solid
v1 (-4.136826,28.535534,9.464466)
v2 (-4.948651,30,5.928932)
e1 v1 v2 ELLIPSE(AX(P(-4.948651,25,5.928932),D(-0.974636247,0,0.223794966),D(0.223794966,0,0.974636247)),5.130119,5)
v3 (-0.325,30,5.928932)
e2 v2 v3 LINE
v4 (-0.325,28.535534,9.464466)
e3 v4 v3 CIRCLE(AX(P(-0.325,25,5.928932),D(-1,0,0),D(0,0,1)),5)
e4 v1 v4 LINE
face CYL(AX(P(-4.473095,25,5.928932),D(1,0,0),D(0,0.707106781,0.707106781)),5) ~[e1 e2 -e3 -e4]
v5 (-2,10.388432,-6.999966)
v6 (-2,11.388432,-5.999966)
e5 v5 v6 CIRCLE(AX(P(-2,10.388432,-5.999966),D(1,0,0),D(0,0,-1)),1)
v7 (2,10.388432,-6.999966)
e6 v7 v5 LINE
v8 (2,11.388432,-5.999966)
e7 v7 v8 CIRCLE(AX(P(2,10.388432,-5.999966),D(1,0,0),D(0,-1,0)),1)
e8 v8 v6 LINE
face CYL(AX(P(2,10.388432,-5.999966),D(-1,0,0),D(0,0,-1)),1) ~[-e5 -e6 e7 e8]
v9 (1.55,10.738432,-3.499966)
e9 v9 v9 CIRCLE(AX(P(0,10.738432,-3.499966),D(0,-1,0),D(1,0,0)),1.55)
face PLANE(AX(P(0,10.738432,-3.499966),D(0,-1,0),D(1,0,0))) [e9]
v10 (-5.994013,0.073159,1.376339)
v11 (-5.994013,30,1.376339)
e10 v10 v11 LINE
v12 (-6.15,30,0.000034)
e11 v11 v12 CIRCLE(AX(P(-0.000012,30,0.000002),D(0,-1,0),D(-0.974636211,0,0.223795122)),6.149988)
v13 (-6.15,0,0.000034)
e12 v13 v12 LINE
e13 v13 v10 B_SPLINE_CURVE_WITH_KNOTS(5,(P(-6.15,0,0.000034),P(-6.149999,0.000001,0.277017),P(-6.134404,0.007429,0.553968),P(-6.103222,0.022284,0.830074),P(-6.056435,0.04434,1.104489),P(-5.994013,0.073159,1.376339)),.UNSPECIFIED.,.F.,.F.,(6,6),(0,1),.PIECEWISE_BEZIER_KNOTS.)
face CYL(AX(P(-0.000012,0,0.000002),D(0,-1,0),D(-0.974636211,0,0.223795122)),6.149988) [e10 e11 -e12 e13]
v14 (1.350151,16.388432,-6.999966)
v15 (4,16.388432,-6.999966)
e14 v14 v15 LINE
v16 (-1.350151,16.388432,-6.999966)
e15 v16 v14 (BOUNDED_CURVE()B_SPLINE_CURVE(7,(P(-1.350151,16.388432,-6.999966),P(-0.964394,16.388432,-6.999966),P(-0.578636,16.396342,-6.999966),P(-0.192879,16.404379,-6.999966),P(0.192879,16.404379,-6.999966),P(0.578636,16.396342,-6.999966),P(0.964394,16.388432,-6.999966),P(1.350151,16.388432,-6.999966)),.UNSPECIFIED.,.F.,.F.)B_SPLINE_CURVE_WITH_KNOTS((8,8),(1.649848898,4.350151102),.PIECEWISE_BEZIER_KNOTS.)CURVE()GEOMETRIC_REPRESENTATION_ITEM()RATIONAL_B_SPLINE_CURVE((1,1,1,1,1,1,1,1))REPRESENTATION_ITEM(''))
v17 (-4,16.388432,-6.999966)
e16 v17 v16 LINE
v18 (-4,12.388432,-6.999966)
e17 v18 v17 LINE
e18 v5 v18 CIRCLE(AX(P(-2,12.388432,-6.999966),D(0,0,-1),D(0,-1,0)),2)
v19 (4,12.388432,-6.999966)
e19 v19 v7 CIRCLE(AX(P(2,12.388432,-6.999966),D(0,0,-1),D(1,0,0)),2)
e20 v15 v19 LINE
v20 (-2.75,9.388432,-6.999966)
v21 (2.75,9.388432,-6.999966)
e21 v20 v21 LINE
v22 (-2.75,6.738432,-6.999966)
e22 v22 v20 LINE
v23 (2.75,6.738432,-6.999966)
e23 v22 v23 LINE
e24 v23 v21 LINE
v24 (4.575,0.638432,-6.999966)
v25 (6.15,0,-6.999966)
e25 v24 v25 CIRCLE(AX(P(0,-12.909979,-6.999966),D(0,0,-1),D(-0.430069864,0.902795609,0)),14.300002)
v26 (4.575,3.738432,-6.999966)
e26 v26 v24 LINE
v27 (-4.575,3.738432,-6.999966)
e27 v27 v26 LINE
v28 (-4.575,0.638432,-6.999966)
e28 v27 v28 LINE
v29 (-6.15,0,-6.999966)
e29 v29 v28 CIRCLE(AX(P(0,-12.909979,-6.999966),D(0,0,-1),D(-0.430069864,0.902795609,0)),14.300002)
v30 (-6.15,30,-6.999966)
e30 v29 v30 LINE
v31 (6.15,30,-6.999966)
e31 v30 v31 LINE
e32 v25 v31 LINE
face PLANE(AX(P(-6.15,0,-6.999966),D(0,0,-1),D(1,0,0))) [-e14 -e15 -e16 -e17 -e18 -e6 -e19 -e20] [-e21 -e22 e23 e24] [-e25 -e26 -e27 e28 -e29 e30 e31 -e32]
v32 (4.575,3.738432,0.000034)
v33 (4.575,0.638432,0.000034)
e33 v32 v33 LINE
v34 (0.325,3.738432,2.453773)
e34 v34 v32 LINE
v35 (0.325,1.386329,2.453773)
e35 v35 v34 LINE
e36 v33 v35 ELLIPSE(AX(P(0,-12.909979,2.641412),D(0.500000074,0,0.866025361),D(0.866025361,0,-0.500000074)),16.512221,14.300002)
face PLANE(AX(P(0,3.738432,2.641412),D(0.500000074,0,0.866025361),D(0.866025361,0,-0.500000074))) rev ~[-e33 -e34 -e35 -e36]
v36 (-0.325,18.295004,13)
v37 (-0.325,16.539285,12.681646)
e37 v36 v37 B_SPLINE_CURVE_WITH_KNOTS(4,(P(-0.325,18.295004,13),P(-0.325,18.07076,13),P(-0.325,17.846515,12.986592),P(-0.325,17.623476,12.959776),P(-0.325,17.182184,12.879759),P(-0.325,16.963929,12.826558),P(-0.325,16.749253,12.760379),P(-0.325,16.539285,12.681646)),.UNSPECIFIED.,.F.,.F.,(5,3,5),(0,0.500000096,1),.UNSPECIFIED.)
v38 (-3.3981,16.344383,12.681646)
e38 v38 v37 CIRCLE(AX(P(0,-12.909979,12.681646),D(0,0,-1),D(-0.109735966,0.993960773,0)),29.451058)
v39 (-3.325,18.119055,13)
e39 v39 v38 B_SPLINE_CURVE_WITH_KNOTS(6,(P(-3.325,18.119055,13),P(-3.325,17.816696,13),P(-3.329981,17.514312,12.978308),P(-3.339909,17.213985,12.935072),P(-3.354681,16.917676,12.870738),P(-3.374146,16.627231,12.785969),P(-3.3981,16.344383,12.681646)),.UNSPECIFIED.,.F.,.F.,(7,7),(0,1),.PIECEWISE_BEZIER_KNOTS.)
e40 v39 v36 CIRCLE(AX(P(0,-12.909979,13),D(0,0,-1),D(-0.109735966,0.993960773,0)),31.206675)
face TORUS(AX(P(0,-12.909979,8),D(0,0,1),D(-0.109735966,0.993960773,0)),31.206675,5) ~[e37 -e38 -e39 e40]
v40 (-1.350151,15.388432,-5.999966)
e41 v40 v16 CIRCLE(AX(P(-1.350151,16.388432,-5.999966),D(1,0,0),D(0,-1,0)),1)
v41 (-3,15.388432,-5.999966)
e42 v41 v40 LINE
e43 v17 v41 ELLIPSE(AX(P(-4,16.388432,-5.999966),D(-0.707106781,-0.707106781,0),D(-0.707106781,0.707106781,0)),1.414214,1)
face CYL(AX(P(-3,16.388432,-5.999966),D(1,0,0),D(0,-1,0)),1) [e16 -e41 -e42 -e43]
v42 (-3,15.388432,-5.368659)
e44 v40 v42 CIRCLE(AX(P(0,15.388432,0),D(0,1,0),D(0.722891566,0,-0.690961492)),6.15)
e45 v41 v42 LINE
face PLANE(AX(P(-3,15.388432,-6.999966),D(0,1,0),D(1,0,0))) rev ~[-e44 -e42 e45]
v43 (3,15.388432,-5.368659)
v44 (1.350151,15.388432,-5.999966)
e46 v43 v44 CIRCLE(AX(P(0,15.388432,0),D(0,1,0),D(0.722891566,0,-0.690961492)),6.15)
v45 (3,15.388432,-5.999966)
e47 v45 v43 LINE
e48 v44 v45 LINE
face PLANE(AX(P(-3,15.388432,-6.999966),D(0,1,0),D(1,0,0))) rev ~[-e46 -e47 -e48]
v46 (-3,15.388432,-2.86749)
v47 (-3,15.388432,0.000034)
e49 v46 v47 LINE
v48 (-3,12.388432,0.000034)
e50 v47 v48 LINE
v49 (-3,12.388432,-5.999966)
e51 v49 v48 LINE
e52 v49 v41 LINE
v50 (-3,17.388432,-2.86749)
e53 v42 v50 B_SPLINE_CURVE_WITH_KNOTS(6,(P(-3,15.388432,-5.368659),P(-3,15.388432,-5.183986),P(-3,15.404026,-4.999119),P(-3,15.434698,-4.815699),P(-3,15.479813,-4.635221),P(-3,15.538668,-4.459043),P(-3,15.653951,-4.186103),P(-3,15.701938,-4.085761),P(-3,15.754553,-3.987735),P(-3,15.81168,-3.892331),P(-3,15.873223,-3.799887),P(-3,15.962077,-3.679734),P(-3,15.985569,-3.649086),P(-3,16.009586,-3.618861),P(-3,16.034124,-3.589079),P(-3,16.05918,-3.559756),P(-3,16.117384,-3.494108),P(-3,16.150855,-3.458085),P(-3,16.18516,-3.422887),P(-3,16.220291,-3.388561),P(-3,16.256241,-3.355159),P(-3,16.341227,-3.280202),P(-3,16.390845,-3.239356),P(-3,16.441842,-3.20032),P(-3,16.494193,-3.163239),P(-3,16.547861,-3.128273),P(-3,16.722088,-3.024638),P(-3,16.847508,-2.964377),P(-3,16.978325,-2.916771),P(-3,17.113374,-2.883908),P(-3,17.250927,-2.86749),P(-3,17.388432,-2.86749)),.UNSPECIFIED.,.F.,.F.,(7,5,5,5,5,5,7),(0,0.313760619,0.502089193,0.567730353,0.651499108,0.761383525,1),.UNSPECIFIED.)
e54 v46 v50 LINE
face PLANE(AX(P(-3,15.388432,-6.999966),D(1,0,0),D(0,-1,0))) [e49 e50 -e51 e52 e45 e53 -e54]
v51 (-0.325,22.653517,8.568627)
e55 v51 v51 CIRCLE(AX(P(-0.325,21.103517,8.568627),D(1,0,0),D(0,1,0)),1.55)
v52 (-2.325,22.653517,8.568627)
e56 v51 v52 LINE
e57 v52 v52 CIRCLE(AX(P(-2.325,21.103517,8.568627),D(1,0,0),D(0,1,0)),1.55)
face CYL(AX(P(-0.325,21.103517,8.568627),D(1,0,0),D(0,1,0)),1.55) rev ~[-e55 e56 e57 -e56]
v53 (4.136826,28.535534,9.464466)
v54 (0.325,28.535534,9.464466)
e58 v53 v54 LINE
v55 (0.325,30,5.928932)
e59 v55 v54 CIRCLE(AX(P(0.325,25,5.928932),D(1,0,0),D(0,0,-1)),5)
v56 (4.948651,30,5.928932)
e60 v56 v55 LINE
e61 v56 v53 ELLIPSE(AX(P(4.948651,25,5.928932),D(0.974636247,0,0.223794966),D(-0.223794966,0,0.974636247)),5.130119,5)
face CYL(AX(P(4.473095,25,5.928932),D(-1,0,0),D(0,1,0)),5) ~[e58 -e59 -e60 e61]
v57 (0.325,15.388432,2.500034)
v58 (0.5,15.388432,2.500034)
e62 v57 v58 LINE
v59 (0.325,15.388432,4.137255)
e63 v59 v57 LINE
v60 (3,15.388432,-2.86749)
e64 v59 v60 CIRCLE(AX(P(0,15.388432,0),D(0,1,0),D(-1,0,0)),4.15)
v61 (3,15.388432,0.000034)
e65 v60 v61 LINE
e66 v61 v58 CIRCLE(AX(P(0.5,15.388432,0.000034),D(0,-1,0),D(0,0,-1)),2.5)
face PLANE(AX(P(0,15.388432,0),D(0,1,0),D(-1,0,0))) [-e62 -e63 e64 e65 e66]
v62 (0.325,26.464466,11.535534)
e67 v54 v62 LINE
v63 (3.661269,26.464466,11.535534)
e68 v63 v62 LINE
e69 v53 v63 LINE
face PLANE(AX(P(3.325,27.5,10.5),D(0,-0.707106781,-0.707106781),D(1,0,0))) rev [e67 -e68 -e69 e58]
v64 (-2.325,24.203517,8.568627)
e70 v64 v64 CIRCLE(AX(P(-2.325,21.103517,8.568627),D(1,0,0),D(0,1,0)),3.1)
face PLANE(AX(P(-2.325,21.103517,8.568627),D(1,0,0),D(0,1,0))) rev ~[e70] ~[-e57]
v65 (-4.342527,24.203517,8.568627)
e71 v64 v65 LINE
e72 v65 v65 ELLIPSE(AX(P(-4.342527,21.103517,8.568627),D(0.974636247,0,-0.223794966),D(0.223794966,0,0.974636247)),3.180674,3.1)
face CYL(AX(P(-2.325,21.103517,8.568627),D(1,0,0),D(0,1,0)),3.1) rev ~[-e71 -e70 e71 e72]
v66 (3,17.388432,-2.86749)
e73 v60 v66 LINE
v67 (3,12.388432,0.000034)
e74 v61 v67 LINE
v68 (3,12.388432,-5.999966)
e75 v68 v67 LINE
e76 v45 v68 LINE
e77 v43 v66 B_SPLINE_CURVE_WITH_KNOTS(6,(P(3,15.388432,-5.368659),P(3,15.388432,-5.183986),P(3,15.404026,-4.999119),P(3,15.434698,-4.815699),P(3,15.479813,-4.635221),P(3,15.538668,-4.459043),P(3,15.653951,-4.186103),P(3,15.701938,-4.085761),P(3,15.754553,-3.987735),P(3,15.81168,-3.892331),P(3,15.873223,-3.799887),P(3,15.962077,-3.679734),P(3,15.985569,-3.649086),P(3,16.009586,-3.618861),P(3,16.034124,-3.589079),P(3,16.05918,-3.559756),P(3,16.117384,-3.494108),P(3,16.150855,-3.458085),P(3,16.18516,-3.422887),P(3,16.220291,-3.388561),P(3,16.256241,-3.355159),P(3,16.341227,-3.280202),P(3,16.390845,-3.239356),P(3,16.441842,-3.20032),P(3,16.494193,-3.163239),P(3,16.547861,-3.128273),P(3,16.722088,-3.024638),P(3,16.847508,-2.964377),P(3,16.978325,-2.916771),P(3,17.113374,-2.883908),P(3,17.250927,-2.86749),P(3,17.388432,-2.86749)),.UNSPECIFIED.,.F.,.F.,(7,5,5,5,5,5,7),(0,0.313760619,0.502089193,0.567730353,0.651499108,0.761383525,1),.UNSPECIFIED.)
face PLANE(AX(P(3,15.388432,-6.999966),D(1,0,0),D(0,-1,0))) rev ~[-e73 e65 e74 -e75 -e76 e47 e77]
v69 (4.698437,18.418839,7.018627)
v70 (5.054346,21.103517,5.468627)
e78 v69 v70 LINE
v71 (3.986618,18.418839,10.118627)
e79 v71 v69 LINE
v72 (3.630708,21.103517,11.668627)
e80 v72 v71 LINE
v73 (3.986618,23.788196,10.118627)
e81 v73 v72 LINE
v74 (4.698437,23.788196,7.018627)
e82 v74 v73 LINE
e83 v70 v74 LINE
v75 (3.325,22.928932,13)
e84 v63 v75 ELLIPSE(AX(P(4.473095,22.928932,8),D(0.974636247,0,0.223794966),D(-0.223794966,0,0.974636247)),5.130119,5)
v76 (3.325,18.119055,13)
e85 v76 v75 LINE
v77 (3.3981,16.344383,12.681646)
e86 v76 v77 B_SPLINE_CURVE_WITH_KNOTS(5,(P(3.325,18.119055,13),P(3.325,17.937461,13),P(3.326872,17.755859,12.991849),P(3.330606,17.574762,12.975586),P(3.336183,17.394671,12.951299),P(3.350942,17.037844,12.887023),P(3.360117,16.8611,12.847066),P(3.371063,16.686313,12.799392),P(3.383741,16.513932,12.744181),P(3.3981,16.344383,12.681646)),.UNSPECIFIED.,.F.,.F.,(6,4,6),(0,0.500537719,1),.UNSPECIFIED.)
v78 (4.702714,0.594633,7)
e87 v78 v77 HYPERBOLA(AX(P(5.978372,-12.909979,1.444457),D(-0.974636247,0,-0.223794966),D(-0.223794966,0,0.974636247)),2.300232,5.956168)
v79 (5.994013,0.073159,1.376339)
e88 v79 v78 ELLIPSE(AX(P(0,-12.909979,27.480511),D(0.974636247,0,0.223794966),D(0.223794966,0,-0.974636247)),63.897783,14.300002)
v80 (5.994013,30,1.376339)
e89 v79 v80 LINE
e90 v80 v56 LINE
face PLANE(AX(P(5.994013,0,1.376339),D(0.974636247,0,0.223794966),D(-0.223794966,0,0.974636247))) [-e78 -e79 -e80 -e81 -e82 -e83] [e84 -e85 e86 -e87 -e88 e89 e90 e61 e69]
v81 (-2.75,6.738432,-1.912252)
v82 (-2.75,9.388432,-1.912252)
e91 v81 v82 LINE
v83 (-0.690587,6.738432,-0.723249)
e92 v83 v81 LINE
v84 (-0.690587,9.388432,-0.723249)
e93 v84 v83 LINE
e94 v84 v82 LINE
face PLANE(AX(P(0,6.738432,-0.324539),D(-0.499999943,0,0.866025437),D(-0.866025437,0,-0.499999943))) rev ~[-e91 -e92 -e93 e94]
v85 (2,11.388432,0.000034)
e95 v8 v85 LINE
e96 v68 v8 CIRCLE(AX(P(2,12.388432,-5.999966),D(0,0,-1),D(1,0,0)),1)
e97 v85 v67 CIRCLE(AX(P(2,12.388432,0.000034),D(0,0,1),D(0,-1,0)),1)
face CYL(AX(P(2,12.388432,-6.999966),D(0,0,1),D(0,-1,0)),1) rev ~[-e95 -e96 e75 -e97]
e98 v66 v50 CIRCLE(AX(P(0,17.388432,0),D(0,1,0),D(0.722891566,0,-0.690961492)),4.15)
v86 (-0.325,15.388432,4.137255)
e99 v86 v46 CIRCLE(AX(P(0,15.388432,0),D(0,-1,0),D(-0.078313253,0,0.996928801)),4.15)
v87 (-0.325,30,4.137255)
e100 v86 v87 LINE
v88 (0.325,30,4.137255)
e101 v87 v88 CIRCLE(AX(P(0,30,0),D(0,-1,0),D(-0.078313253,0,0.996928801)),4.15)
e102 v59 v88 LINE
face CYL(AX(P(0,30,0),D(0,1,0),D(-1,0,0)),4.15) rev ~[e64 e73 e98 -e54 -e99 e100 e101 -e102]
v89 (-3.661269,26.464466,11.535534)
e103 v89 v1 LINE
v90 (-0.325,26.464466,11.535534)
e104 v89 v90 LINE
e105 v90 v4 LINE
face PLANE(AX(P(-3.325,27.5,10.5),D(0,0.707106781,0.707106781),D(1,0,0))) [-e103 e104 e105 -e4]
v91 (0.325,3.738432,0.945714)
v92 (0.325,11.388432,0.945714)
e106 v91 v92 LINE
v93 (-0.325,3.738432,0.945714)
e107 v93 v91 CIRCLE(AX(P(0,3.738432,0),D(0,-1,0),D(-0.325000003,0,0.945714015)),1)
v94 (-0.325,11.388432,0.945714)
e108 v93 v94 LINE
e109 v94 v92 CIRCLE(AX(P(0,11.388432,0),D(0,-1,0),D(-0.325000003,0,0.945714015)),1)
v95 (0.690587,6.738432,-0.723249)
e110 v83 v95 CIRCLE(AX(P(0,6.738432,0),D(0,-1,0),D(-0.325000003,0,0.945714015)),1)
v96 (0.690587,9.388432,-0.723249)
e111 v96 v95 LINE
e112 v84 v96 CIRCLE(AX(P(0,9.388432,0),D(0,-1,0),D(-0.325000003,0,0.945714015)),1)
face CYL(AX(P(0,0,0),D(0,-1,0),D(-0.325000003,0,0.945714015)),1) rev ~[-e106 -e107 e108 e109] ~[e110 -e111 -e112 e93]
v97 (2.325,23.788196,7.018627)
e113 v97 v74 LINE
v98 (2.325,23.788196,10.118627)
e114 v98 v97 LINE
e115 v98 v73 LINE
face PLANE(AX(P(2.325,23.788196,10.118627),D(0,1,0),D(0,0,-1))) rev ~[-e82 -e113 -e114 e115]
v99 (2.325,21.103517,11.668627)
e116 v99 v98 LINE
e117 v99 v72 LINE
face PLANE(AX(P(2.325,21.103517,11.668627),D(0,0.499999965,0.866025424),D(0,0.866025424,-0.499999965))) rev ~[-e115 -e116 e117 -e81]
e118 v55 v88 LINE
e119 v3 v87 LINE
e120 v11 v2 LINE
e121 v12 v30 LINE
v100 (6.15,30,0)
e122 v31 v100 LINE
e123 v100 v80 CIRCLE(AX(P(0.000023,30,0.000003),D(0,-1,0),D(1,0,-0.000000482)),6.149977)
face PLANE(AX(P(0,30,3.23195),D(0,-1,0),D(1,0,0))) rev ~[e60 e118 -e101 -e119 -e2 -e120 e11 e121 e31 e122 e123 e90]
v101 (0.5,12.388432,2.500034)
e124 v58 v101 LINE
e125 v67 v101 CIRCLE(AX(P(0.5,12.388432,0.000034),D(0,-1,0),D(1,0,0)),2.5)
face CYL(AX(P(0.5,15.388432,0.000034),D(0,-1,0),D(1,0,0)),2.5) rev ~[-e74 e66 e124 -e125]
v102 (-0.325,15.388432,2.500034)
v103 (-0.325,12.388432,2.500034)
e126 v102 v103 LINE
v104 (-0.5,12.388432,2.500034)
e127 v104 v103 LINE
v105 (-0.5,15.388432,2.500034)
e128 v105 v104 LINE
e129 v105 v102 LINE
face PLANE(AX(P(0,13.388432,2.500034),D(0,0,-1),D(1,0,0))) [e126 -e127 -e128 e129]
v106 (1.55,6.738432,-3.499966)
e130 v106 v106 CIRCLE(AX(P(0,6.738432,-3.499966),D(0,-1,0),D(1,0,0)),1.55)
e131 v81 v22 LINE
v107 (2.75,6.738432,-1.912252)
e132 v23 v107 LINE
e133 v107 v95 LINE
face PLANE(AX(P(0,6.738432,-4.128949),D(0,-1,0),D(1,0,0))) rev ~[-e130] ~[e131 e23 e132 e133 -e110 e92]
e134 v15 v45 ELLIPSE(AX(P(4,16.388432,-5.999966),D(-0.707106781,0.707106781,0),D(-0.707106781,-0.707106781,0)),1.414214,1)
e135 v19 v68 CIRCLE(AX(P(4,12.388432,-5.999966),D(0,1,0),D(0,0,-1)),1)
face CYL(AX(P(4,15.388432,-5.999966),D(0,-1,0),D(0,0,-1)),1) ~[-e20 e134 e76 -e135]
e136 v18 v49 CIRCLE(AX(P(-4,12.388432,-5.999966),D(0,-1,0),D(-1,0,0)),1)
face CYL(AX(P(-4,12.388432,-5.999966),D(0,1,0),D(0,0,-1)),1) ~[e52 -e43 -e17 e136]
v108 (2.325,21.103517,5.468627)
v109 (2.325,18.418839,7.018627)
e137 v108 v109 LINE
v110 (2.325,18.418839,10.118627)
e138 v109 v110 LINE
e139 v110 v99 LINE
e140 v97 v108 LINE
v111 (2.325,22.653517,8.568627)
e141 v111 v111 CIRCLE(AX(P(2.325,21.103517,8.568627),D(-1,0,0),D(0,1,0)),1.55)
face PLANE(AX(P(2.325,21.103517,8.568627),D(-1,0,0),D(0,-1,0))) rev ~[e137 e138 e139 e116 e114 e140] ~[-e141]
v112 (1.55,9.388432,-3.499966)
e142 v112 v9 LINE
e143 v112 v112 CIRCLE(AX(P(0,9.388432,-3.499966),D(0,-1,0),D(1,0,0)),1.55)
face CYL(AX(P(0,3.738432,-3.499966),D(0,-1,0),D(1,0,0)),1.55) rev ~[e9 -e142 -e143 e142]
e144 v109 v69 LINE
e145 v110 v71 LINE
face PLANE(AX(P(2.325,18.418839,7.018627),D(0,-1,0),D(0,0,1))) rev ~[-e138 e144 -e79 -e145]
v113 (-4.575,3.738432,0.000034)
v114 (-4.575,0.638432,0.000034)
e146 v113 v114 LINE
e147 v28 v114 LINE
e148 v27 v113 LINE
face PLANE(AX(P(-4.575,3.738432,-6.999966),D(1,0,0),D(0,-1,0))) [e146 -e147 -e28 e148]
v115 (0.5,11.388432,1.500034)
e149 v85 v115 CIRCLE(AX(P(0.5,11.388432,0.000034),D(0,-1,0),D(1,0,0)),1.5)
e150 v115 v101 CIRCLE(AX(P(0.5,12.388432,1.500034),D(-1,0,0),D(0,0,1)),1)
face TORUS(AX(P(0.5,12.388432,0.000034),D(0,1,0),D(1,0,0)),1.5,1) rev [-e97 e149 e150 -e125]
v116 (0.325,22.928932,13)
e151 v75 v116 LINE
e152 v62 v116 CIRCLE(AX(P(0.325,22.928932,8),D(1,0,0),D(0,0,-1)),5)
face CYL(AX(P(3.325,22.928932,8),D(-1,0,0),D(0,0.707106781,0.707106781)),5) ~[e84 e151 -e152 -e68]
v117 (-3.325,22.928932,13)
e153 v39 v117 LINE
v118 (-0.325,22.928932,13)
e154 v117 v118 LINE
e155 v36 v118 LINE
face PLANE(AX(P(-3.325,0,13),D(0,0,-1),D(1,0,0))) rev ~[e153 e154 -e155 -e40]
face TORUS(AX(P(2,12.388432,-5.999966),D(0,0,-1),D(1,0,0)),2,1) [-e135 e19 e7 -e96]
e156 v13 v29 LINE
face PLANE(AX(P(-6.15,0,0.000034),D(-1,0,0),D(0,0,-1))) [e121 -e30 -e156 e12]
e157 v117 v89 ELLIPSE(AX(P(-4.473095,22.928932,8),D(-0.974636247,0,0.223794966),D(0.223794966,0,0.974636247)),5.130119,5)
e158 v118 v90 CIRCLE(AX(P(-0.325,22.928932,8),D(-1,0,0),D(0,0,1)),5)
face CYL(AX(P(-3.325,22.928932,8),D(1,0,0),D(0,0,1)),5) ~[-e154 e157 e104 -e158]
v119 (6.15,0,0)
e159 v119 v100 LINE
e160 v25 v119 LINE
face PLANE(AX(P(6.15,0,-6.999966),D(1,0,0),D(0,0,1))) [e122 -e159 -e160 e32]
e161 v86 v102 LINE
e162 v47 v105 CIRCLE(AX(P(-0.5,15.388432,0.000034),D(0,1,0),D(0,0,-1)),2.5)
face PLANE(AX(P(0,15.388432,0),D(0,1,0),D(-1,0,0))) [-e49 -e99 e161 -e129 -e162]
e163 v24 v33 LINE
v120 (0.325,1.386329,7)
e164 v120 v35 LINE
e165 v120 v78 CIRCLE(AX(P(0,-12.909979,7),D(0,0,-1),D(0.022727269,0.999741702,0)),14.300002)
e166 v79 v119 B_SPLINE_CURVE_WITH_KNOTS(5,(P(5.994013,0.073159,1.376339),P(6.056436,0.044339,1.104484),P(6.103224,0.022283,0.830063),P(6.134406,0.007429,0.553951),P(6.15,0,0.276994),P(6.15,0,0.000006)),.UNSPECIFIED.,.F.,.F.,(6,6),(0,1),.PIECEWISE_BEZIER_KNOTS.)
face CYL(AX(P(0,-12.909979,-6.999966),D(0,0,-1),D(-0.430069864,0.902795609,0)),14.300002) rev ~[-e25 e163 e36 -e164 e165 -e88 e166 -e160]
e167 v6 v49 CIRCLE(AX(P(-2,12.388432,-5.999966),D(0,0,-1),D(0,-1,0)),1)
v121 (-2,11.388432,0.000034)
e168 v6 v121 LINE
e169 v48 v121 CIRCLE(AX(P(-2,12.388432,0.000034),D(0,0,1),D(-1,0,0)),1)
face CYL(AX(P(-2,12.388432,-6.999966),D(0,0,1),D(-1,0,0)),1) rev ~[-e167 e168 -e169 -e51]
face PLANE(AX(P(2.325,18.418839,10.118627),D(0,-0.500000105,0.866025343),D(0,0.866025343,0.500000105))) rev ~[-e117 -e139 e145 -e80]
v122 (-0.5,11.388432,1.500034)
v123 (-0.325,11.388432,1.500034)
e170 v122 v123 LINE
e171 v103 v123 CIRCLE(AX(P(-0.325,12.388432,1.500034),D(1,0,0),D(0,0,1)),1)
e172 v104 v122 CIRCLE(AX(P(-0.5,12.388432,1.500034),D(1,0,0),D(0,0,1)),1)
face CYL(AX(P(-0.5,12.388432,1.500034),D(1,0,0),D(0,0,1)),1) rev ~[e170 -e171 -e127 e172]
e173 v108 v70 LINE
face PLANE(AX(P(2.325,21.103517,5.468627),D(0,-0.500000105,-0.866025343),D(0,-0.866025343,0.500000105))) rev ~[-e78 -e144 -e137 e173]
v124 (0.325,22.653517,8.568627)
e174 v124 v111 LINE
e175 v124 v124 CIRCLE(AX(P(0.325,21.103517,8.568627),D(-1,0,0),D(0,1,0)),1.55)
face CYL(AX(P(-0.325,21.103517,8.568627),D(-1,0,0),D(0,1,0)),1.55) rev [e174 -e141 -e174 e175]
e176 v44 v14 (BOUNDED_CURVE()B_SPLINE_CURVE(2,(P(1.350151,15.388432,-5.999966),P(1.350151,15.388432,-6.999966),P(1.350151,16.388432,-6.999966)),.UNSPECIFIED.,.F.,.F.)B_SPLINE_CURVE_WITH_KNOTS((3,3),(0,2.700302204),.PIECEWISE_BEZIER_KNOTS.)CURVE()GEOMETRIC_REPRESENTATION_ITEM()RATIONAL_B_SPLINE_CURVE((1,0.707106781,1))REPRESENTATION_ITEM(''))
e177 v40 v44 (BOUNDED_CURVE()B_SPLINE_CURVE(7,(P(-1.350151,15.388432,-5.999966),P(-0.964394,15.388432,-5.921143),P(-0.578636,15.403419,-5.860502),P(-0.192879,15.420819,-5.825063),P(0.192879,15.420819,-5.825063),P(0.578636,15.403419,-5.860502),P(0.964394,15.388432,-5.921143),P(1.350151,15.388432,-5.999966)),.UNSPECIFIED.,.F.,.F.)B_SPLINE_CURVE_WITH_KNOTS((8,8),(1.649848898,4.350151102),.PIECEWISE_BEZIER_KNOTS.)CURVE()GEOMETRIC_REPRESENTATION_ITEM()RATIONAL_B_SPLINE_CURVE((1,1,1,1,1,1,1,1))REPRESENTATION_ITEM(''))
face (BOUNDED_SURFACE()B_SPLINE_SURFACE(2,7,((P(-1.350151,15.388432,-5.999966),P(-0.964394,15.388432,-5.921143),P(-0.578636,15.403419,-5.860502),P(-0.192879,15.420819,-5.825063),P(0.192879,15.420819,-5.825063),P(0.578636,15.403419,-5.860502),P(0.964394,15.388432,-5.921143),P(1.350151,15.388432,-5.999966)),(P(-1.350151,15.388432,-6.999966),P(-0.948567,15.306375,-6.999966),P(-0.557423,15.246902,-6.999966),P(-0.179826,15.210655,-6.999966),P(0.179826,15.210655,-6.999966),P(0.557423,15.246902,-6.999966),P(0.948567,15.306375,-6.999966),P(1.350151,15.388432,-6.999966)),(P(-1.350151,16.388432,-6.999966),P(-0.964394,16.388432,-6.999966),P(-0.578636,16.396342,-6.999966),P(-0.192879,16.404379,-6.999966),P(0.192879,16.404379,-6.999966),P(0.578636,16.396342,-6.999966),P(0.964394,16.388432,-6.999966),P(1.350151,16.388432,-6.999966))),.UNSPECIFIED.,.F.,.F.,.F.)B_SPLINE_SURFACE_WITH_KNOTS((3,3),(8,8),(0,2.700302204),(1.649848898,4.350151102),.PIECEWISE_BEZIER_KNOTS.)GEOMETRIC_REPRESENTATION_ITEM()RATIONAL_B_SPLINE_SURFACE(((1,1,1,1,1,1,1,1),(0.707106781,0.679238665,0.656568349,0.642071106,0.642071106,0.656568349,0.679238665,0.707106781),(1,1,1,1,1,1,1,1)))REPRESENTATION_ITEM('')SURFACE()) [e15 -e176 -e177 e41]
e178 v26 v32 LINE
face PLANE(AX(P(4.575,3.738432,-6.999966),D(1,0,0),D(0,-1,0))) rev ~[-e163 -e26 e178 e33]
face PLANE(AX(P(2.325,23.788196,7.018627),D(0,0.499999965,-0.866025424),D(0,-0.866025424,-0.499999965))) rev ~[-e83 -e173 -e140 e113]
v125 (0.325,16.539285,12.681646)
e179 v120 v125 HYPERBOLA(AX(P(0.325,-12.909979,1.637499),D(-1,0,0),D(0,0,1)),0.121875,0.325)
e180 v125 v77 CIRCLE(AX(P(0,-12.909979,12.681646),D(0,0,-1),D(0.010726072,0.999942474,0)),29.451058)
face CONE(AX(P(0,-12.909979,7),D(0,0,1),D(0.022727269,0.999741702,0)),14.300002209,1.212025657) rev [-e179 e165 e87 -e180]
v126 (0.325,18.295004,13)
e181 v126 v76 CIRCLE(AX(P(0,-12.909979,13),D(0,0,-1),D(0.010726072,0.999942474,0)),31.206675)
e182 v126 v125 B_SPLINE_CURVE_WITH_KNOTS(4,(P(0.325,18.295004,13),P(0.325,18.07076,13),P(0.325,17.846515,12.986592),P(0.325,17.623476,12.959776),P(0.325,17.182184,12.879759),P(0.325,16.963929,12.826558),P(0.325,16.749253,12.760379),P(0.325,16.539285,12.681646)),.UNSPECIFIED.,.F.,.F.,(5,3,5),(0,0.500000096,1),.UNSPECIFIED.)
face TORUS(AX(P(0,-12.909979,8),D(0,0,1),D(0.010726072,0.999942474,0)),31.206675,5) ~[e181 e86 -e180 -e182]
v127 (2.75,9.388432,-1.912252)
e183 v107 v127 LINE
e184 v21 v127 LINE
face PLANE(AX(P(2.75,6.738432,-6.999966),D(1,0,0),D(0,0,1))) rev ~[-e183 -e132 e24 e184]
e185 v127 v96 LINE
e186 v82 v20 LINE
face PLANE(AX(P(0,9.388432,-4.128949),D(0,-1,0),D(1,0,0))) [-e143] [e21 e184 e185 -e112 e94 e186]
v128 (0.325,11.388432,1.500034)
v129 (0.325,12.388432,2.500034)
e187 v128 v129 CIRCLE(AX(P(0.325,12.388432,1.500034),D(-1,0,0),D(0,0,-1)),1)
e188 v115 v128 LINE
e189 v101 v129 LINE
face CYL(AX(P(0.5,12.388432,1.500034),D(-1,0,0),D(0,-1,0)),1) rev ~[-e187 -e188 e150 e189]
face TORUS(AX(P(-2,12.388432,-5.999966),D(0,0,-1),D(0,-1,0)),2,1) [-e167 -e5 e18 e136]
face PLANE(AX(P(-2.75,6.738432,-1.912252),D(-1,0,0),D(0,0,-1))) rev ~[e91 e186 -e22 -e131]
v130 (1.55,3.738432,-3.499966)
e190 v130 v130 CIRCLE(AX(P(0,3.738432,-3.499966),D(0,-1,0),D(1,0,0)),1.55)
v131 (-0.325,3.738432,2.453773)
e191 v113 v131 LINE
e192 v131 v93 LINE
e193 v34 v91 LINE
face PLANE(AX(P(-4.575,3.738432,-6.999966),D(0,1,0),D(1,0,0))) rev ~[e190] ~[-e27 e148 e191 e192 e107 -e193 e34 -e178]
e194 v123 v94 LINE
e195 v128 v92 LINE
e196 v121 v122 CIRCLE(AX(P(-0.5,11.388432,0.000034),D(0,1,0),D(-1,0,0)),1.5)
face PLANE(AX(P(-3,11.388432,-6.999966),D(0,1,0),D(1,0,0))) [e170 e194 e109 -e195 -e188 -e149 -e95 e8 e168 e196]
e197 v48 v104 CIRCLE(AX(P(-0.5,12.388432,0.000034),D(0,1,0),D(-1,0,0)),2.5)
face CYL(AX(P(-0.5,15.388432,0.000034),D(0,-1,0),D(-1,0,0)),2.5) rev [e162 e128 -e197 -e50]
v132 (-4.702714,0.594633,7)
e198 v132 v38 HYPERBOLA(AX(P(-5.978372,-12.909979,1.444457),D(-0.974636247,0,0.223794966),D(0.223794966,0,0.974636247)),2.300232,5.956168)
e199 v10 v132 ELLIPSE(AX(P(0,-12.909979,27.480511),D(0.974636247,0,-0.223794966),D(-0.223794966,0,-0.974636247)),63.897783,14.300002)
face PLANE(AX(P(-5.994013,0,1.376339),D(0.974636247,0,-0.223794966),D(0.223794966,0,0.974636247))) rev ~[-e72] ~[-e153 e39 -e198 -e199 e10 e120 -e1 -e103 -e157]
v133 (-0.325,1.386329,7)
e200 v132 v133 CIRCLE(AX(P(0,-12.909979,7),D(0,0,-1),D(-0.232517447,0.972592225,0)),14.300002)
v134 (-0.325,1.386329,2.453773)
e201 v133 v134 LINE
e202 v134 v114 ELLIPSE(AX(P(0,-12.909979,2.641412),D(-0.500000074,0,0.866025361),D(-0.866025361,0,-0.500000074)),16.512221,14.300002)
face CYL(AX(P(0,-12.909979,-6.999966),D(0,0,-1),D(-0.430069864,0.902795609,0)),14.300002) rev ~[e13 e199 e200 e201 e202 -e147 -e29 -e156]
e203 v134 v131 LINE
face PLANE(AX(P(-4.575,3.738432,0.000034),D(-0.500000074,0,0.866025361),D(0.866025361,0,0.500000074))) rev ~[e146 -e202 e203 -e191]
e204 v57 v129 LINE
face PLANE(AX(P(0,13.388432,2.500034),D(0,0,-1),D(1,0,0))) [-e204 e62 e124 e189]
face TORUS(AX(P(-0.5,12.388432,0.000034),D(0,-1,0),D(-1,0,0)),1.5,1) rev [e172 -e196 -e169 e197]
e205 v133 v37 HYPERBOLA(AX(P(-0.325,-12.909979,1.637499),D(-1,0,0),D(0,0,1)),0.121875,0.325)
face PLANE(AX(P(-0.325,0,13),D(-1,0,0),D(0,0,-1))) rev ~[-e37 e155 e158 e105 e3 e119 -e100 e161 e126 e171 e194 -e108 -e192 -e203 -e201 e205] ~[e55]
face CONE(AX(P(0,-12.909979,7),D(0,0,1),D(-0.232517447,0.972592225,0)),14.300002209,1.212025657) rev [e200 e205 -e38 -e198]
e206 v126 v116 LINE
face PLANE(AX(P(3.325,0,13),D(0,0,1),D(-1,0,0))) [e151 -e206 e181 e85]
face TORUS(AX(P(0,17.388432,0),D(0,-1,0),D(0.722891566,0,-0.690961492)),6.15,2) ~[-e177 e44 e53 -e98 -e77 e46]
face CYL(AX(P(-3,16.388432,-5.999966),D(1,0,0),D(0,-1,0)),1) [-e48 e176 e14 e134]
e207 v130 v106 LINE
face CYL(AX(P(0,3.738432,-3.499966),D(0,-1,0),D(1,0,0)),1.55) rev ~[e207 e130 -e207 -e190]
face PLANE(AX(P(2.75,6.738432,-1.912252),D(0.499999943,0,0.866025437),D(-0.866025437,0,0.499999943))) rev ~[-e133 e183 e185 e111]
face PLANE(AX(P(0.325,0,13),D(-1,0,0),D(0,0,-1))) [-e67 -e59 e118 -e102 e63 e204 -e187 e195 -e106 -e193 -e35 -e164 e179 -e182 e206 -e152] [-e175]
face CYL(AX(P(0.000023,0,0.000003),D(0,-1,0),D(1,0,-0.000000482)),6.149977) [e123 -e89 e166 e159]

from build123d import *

# Parameters (mm, degrees)
EXTRUDE003_DEPTH                     = 10
SKETCH009_R                          = 3.1
EXTRUDE002_DEPTH                     = 10
EXTRUDE001_DEPTH                     = 2.65
EXTRUDE001_ONTO_SKETCH005_ROLL_ANGLE = 90
EXTRUDE_DEPTH                        = 30
EXTRUDE_ONTO_SKETCH_ROLL_ANGLE       = 90
POCKET_DEPTH                         = 20.000966
SKETCH002_W                          = 9.15
SKETCH002_H                          = 3.1
POCKET001_DEPTH                      = 7
POCKET002_DEPTH                      = 3.739432
SKETCH004_R                          = 1.55
POCKET003_DEPTH                      = 7
SKETCH006_W                          = 6
SKETCH006_H                          = 4
POCKET004_DEPTH                      = 9.5
SKETCH007_R                          = 4.15
POCKET005_DEPTH                      = 14.611568
FILLET_R                             = 2.5
FILLET001_R                          = 1
FILLET002_R                          = 2
FILLET003_R                          = 1
CHAMFER_1_SIZE2                      = 16
CHAMFER_1_SIZE                       = 6
CHAMFER_2_SIZE2                      = 16
CHAMFER_2_SIZE                       = 6
CHAMFER001_SIZE                      = 5
SKETCH008_R                          = 1.55
POCKET006_DEPTH                      = 5.826
POCKET006_DEPTH_BACK                 = 6.476
FILLET004_R                          = 5


with BuildPart() as extrude003:
    # Sketch010 → Extrude003 (new body)
    with BuildSketch(Plane(origin=(0.325, 0, 0), x_dir=(0, -1, 0), z_dir=(-1, 0, 0))):
        Polygon((-21.103517, 11.668627), (-23.788196, 10.118627), (-23.788196, 7.018627), (-21.103517, 5.468627), (-18.418839, 7.018627), (-18.418839, 10.118627), align=None)
    extrude(amount=-EXTRUDE003_DEPTH)


with BuildPart() as extrude003_1:
    # Extrude003 placement: moved
    add(extrude003.part.moved(Location((2, 0, 0))))


with BuildPart() as extrude002:
    # Sketch009 → Extrude002 (new body)
    with BuildSketch(Plane.YZ.offset(-0.325)):
        with Locations((21.103517, 8.568627)):
            Circle(SKETCH009_R)
    extrude(amount=-EXTRUDE002_DEPTH)


with BuildPart() as extrude002_1:
    # Extrude002 placement: moved
    add(extrude002.part.moved(Location((-2, 0, 0))))


with BuildPart() as extrude001:
    # Sketch005 as drawn → Extrude001 (new)
    with BuildSketch(Plane.XY):
        Polygon((-2.75, -6.999966), (2.75, -6.999966), (2.75, -1.912252), (0, -0.324539), (-2.75, -1.912252), align=None)
    extrude(amount=-EXTRUDE001_DEPTH)


with BuildPart() as extrude001_1:
    # Extrude001 onto Sketch005 roll: moved
    add(extrude001.part.rotate(Axis((0, 0, 0), (1, 0, 0)), EXTRUDE001_ONTO_SKETCH005_ROLL_ANGLE))


with BuildPart() as extrude001_2:
    # Extrude001 onto Sketch005 placement: moved
    add(extrude001_1.part.moved(Location((0, 3.738432, 0))))


with BuildPart() as extrude001_3:
    # Extrude001 placement: moved
    add(extrude001_2.part.moved(Location((0, 3, 0))))


with BuildPart() as cut002:
    # Sketch as drawn → Extrude (new)
    with BuildSketch(Plane.XY):
        with BuildLine():
            ThreePointArc((-5.994013, 1.376339), (-6.110877, 0.692592), (-6.15, 3.4e-05))
            Line((-6.15, 3.4e-05), (-6.15, -6.999966))
            Line((-6.15, -6.999966), (6.15, -6.999966))
            Line((6.15, -6.999966), (6.15, 0))
            ThreePointArc((6.15, 0), (6.110879, 0.692575), (5.994013, 1.376339))
            Line((5.994013, 1.376339), (3.325, 13))
            Line((3.325, 13), (0.325, 13))
            Line((0.325, 13), (0.325, 0.945714))
            ThreePointArc((-0.325, 0.945714), (0, -1), (0.325, 0.945714))
            Line((-0.325, 13), (-0.325, 0.945714))
            Line((-3.325, 13), (-0.325, 13))
            Line((-5.994013, 1.376339), (-3.325, 13))
        make_face()
    extrude(amount=-EXTRUDE_DEPTH)


with BuildPart() as cut002_1:
    # Extrude onto Sketch roll: moved
    add(cut002.part.rotate(Axis((0, 0, 0), (1, 0, 0)), EXTRUDE_ONTO_SKETCH_ROLL_ANGLE))


with BuildPart() as cut002_2:
    # Extrude onto Sketch placement: moved
    add(cut002_1.part)

    # Sketch001 → Pocket (cut, through all)
    with BuildSketch(Plane(origin=(0, 0, -6.999966), x_dir=(1, 0, 0), z_dir=(0, 0, -1))):
        with BuildLine():
            Line((-6.15, 0), (6.15, 0))
            ThreePointArc((-6.15, 0), (0, -1.390023), (6.15, 0))
        make_face()
    extrude(amount=-POCKET_DEPTH, mode=Mode.SUBTRACT)

    # Sketch002 → Pocket001 (cut)
    with BuildSketch(Plane(origin=(0, 0, -6.999966), x_dir=(1, 0, 0), z_dir=(0, 0, -1))):
        with Locations((0, -2.188432)):
            Rectangle(SKETCH002_W, SKETCH002_H)
    extrude(amount=-POCKET001_DEPTH, mode=Mode.SUBTRACT)

    # Sketch003 → Pocket002 (cut, through all)
    with BuildSketch(Plane.XZ.offset(-3.738432)):
        Polygon((4.575, 3.4e-05), (-4.575, 3.4e-05), (0, 2.641412), align=None)
    extrude(amount=POCKET002_DEPTH, mode=Mode.SUBTRACT)

    # Sketch004 → Pocket003 (cut)
    with BuildSketch(Plane.XZ.offset(-3.738432)):
        with Locations((0, -3.499966)):
            Circle(SKETCH004_R)
    extrude(amount=-POCKET003_DEPTH, mode=Mode.SUBTRACT)

    # Cut: cut Extrude001
    add(extrude001_3.part, mode=Mode.SUBTRACT)

    # Sketch006 → Pocket004 (cut)
    with BuildSketch(Plane(origin=(0, 0, -6.999966), x_dir=(1, 0, 0), z_dir=(0, 0, -1))):
        with Locations((0, -13.388432)):
            Rectangle(SKETCH006_W, SKETCH006_H)
    extrude(amount=-POCKET004_DEPTH, mode=Mode.SUBTRACT)

    # Sketch007 → Pocket005 (cut)
    with BuildSketch(Plane(origin=(0, 30, 0), x_dir=(-1, 0, 0), z_dir=(0, 1, 0))):
        Circle(SKETCH007_R)
    extrude(amount=-POCKET005_DEPTH, mode=Mode.SUBTRACT)

    # Fillet
    fillet_edges = [cut002_2.edges().sort_by_distance(p)[0] for p in [
        (3, 13.388432, 2.500034),
        (-3, 13.388432, 2.500034),
    ]]
    fillet(fillet_edges, radius=FILLET_R)

    # Fillet001
    fillet001_edges = [cut002_2.edges().sort_by_distance(p)[0] for p in [
        (3, 11.388432, -3.499966),
        (2.267767, 11.388432, 1.767801),
        (0.4125, 11.388432, 2.500034),
        (-3, 11.388432, -3.499966),
        (-2.267767, 11.388432, 1.767801),
        (-0.4125, 11.388432, 2.500034),
    ]]
    fillet(fillet001_edges, radius=FILLET001_R)

    # Fillet002
    fillet002_edges = [cut002_2.edges().sort_by_distance(p)[0] for p in [
        (0, 15.388432, -4.15),
    ]]
    fillet(fillet002_edges, radius=FILLET002_R)

    # Fillet003
    fillet003_edges = [cut002_2.edges().sort_by_distance(p)[0] for p in [
        (3, 13.888432, -6.999966),
        (0, 15.388432, -6.999966),
        (2.707107, 11.681325, -6.999966),
        (0, 11.388432, -6.999966),
        (-3, 13.888432, -6.999966),
        (-2.707107, 11.681325, -6.999966),
    ]]
    fillet(fillet003_edges, radius=FILLET003_R)

    # Chamfer 1
    chamfer_1_edges = [cut002_2.edges().sort_by_distance(p)[0] for p in [
        (1.835295, 1.271761, 13),
    ]]
    chamfer_1_side = cut002_2.faces().sort_by_distance((3.310874, 1.001462, 3.000017))[0]
    chamfer(chamfer_1_edges, length=CHAMFER_1_SIZE, length2=CHAMFER_1_SIZE2, reference=chamfer_1_side)

    # Chamfer 2
    chamfer_2_edges = [cut002_2.edges().sort_by_distance(p)[0] for p in [
        (-1.835295, 1.271761, 13),
    ]]
    chamfer_2_side = cut002_2.faces().sort_by_distance((-3.310874, 1.001462, 3.000017))[0]
    chamfer(chamfer_2_edges, length=CHAMFER_2_SIZE, length2=CHAMFER_2_SIZE2, reference=chamfer_2_side)

    # Chamfer001
    chamfer001_edges = [cut002_2.edges().sort_by_distance(p)[0] for p in [
        (1.825, 30, 13),
        (-1.825, 30, 13),
    ]]
    chamfer(chamfer001_edges, length=CHAMFER001_SIZE)

    # Sketch008 → Pocket006 (cut, two sides)
    with BuildSketch(Plane.YZ.offset(-0.325)) as pocket006_sk:
        with Locations((21.103517, 8.568627)):
            Circle(SKETCH008_R)
    extrude(amount=-POCKET006_DEPTH, mode=Mode.SUBTRACT)
    extrude(pocket006_sk.sketch, amount=POCKET006_DEPTH_BACK, mode=Mode.SUBTRACT)

    # Fillet004
    fillet004_edges = [cut002_2.edges().sort_by_distance(p)[0] for p in [
        (1.825, 25, 13),
        (1.827249, 17.334877, 13),
        (2.399047, 30, 8),
        (-2.399047, 30, 8),
        (-1.825, 25, 13),
        (-1.827249, 17.334877, 13),
    ]]
    fillet(fillet004_edges, radius=FILLET004_R)

    # Cut001: cut Extrude002
    add(extrude002_1.part, mode=Mode.SUBTRACT)

    # Cut002: cut Extrude003
    add(extrude003_1.part, mode=Mode.SUBTRACT)


solid = cut002_2.part
